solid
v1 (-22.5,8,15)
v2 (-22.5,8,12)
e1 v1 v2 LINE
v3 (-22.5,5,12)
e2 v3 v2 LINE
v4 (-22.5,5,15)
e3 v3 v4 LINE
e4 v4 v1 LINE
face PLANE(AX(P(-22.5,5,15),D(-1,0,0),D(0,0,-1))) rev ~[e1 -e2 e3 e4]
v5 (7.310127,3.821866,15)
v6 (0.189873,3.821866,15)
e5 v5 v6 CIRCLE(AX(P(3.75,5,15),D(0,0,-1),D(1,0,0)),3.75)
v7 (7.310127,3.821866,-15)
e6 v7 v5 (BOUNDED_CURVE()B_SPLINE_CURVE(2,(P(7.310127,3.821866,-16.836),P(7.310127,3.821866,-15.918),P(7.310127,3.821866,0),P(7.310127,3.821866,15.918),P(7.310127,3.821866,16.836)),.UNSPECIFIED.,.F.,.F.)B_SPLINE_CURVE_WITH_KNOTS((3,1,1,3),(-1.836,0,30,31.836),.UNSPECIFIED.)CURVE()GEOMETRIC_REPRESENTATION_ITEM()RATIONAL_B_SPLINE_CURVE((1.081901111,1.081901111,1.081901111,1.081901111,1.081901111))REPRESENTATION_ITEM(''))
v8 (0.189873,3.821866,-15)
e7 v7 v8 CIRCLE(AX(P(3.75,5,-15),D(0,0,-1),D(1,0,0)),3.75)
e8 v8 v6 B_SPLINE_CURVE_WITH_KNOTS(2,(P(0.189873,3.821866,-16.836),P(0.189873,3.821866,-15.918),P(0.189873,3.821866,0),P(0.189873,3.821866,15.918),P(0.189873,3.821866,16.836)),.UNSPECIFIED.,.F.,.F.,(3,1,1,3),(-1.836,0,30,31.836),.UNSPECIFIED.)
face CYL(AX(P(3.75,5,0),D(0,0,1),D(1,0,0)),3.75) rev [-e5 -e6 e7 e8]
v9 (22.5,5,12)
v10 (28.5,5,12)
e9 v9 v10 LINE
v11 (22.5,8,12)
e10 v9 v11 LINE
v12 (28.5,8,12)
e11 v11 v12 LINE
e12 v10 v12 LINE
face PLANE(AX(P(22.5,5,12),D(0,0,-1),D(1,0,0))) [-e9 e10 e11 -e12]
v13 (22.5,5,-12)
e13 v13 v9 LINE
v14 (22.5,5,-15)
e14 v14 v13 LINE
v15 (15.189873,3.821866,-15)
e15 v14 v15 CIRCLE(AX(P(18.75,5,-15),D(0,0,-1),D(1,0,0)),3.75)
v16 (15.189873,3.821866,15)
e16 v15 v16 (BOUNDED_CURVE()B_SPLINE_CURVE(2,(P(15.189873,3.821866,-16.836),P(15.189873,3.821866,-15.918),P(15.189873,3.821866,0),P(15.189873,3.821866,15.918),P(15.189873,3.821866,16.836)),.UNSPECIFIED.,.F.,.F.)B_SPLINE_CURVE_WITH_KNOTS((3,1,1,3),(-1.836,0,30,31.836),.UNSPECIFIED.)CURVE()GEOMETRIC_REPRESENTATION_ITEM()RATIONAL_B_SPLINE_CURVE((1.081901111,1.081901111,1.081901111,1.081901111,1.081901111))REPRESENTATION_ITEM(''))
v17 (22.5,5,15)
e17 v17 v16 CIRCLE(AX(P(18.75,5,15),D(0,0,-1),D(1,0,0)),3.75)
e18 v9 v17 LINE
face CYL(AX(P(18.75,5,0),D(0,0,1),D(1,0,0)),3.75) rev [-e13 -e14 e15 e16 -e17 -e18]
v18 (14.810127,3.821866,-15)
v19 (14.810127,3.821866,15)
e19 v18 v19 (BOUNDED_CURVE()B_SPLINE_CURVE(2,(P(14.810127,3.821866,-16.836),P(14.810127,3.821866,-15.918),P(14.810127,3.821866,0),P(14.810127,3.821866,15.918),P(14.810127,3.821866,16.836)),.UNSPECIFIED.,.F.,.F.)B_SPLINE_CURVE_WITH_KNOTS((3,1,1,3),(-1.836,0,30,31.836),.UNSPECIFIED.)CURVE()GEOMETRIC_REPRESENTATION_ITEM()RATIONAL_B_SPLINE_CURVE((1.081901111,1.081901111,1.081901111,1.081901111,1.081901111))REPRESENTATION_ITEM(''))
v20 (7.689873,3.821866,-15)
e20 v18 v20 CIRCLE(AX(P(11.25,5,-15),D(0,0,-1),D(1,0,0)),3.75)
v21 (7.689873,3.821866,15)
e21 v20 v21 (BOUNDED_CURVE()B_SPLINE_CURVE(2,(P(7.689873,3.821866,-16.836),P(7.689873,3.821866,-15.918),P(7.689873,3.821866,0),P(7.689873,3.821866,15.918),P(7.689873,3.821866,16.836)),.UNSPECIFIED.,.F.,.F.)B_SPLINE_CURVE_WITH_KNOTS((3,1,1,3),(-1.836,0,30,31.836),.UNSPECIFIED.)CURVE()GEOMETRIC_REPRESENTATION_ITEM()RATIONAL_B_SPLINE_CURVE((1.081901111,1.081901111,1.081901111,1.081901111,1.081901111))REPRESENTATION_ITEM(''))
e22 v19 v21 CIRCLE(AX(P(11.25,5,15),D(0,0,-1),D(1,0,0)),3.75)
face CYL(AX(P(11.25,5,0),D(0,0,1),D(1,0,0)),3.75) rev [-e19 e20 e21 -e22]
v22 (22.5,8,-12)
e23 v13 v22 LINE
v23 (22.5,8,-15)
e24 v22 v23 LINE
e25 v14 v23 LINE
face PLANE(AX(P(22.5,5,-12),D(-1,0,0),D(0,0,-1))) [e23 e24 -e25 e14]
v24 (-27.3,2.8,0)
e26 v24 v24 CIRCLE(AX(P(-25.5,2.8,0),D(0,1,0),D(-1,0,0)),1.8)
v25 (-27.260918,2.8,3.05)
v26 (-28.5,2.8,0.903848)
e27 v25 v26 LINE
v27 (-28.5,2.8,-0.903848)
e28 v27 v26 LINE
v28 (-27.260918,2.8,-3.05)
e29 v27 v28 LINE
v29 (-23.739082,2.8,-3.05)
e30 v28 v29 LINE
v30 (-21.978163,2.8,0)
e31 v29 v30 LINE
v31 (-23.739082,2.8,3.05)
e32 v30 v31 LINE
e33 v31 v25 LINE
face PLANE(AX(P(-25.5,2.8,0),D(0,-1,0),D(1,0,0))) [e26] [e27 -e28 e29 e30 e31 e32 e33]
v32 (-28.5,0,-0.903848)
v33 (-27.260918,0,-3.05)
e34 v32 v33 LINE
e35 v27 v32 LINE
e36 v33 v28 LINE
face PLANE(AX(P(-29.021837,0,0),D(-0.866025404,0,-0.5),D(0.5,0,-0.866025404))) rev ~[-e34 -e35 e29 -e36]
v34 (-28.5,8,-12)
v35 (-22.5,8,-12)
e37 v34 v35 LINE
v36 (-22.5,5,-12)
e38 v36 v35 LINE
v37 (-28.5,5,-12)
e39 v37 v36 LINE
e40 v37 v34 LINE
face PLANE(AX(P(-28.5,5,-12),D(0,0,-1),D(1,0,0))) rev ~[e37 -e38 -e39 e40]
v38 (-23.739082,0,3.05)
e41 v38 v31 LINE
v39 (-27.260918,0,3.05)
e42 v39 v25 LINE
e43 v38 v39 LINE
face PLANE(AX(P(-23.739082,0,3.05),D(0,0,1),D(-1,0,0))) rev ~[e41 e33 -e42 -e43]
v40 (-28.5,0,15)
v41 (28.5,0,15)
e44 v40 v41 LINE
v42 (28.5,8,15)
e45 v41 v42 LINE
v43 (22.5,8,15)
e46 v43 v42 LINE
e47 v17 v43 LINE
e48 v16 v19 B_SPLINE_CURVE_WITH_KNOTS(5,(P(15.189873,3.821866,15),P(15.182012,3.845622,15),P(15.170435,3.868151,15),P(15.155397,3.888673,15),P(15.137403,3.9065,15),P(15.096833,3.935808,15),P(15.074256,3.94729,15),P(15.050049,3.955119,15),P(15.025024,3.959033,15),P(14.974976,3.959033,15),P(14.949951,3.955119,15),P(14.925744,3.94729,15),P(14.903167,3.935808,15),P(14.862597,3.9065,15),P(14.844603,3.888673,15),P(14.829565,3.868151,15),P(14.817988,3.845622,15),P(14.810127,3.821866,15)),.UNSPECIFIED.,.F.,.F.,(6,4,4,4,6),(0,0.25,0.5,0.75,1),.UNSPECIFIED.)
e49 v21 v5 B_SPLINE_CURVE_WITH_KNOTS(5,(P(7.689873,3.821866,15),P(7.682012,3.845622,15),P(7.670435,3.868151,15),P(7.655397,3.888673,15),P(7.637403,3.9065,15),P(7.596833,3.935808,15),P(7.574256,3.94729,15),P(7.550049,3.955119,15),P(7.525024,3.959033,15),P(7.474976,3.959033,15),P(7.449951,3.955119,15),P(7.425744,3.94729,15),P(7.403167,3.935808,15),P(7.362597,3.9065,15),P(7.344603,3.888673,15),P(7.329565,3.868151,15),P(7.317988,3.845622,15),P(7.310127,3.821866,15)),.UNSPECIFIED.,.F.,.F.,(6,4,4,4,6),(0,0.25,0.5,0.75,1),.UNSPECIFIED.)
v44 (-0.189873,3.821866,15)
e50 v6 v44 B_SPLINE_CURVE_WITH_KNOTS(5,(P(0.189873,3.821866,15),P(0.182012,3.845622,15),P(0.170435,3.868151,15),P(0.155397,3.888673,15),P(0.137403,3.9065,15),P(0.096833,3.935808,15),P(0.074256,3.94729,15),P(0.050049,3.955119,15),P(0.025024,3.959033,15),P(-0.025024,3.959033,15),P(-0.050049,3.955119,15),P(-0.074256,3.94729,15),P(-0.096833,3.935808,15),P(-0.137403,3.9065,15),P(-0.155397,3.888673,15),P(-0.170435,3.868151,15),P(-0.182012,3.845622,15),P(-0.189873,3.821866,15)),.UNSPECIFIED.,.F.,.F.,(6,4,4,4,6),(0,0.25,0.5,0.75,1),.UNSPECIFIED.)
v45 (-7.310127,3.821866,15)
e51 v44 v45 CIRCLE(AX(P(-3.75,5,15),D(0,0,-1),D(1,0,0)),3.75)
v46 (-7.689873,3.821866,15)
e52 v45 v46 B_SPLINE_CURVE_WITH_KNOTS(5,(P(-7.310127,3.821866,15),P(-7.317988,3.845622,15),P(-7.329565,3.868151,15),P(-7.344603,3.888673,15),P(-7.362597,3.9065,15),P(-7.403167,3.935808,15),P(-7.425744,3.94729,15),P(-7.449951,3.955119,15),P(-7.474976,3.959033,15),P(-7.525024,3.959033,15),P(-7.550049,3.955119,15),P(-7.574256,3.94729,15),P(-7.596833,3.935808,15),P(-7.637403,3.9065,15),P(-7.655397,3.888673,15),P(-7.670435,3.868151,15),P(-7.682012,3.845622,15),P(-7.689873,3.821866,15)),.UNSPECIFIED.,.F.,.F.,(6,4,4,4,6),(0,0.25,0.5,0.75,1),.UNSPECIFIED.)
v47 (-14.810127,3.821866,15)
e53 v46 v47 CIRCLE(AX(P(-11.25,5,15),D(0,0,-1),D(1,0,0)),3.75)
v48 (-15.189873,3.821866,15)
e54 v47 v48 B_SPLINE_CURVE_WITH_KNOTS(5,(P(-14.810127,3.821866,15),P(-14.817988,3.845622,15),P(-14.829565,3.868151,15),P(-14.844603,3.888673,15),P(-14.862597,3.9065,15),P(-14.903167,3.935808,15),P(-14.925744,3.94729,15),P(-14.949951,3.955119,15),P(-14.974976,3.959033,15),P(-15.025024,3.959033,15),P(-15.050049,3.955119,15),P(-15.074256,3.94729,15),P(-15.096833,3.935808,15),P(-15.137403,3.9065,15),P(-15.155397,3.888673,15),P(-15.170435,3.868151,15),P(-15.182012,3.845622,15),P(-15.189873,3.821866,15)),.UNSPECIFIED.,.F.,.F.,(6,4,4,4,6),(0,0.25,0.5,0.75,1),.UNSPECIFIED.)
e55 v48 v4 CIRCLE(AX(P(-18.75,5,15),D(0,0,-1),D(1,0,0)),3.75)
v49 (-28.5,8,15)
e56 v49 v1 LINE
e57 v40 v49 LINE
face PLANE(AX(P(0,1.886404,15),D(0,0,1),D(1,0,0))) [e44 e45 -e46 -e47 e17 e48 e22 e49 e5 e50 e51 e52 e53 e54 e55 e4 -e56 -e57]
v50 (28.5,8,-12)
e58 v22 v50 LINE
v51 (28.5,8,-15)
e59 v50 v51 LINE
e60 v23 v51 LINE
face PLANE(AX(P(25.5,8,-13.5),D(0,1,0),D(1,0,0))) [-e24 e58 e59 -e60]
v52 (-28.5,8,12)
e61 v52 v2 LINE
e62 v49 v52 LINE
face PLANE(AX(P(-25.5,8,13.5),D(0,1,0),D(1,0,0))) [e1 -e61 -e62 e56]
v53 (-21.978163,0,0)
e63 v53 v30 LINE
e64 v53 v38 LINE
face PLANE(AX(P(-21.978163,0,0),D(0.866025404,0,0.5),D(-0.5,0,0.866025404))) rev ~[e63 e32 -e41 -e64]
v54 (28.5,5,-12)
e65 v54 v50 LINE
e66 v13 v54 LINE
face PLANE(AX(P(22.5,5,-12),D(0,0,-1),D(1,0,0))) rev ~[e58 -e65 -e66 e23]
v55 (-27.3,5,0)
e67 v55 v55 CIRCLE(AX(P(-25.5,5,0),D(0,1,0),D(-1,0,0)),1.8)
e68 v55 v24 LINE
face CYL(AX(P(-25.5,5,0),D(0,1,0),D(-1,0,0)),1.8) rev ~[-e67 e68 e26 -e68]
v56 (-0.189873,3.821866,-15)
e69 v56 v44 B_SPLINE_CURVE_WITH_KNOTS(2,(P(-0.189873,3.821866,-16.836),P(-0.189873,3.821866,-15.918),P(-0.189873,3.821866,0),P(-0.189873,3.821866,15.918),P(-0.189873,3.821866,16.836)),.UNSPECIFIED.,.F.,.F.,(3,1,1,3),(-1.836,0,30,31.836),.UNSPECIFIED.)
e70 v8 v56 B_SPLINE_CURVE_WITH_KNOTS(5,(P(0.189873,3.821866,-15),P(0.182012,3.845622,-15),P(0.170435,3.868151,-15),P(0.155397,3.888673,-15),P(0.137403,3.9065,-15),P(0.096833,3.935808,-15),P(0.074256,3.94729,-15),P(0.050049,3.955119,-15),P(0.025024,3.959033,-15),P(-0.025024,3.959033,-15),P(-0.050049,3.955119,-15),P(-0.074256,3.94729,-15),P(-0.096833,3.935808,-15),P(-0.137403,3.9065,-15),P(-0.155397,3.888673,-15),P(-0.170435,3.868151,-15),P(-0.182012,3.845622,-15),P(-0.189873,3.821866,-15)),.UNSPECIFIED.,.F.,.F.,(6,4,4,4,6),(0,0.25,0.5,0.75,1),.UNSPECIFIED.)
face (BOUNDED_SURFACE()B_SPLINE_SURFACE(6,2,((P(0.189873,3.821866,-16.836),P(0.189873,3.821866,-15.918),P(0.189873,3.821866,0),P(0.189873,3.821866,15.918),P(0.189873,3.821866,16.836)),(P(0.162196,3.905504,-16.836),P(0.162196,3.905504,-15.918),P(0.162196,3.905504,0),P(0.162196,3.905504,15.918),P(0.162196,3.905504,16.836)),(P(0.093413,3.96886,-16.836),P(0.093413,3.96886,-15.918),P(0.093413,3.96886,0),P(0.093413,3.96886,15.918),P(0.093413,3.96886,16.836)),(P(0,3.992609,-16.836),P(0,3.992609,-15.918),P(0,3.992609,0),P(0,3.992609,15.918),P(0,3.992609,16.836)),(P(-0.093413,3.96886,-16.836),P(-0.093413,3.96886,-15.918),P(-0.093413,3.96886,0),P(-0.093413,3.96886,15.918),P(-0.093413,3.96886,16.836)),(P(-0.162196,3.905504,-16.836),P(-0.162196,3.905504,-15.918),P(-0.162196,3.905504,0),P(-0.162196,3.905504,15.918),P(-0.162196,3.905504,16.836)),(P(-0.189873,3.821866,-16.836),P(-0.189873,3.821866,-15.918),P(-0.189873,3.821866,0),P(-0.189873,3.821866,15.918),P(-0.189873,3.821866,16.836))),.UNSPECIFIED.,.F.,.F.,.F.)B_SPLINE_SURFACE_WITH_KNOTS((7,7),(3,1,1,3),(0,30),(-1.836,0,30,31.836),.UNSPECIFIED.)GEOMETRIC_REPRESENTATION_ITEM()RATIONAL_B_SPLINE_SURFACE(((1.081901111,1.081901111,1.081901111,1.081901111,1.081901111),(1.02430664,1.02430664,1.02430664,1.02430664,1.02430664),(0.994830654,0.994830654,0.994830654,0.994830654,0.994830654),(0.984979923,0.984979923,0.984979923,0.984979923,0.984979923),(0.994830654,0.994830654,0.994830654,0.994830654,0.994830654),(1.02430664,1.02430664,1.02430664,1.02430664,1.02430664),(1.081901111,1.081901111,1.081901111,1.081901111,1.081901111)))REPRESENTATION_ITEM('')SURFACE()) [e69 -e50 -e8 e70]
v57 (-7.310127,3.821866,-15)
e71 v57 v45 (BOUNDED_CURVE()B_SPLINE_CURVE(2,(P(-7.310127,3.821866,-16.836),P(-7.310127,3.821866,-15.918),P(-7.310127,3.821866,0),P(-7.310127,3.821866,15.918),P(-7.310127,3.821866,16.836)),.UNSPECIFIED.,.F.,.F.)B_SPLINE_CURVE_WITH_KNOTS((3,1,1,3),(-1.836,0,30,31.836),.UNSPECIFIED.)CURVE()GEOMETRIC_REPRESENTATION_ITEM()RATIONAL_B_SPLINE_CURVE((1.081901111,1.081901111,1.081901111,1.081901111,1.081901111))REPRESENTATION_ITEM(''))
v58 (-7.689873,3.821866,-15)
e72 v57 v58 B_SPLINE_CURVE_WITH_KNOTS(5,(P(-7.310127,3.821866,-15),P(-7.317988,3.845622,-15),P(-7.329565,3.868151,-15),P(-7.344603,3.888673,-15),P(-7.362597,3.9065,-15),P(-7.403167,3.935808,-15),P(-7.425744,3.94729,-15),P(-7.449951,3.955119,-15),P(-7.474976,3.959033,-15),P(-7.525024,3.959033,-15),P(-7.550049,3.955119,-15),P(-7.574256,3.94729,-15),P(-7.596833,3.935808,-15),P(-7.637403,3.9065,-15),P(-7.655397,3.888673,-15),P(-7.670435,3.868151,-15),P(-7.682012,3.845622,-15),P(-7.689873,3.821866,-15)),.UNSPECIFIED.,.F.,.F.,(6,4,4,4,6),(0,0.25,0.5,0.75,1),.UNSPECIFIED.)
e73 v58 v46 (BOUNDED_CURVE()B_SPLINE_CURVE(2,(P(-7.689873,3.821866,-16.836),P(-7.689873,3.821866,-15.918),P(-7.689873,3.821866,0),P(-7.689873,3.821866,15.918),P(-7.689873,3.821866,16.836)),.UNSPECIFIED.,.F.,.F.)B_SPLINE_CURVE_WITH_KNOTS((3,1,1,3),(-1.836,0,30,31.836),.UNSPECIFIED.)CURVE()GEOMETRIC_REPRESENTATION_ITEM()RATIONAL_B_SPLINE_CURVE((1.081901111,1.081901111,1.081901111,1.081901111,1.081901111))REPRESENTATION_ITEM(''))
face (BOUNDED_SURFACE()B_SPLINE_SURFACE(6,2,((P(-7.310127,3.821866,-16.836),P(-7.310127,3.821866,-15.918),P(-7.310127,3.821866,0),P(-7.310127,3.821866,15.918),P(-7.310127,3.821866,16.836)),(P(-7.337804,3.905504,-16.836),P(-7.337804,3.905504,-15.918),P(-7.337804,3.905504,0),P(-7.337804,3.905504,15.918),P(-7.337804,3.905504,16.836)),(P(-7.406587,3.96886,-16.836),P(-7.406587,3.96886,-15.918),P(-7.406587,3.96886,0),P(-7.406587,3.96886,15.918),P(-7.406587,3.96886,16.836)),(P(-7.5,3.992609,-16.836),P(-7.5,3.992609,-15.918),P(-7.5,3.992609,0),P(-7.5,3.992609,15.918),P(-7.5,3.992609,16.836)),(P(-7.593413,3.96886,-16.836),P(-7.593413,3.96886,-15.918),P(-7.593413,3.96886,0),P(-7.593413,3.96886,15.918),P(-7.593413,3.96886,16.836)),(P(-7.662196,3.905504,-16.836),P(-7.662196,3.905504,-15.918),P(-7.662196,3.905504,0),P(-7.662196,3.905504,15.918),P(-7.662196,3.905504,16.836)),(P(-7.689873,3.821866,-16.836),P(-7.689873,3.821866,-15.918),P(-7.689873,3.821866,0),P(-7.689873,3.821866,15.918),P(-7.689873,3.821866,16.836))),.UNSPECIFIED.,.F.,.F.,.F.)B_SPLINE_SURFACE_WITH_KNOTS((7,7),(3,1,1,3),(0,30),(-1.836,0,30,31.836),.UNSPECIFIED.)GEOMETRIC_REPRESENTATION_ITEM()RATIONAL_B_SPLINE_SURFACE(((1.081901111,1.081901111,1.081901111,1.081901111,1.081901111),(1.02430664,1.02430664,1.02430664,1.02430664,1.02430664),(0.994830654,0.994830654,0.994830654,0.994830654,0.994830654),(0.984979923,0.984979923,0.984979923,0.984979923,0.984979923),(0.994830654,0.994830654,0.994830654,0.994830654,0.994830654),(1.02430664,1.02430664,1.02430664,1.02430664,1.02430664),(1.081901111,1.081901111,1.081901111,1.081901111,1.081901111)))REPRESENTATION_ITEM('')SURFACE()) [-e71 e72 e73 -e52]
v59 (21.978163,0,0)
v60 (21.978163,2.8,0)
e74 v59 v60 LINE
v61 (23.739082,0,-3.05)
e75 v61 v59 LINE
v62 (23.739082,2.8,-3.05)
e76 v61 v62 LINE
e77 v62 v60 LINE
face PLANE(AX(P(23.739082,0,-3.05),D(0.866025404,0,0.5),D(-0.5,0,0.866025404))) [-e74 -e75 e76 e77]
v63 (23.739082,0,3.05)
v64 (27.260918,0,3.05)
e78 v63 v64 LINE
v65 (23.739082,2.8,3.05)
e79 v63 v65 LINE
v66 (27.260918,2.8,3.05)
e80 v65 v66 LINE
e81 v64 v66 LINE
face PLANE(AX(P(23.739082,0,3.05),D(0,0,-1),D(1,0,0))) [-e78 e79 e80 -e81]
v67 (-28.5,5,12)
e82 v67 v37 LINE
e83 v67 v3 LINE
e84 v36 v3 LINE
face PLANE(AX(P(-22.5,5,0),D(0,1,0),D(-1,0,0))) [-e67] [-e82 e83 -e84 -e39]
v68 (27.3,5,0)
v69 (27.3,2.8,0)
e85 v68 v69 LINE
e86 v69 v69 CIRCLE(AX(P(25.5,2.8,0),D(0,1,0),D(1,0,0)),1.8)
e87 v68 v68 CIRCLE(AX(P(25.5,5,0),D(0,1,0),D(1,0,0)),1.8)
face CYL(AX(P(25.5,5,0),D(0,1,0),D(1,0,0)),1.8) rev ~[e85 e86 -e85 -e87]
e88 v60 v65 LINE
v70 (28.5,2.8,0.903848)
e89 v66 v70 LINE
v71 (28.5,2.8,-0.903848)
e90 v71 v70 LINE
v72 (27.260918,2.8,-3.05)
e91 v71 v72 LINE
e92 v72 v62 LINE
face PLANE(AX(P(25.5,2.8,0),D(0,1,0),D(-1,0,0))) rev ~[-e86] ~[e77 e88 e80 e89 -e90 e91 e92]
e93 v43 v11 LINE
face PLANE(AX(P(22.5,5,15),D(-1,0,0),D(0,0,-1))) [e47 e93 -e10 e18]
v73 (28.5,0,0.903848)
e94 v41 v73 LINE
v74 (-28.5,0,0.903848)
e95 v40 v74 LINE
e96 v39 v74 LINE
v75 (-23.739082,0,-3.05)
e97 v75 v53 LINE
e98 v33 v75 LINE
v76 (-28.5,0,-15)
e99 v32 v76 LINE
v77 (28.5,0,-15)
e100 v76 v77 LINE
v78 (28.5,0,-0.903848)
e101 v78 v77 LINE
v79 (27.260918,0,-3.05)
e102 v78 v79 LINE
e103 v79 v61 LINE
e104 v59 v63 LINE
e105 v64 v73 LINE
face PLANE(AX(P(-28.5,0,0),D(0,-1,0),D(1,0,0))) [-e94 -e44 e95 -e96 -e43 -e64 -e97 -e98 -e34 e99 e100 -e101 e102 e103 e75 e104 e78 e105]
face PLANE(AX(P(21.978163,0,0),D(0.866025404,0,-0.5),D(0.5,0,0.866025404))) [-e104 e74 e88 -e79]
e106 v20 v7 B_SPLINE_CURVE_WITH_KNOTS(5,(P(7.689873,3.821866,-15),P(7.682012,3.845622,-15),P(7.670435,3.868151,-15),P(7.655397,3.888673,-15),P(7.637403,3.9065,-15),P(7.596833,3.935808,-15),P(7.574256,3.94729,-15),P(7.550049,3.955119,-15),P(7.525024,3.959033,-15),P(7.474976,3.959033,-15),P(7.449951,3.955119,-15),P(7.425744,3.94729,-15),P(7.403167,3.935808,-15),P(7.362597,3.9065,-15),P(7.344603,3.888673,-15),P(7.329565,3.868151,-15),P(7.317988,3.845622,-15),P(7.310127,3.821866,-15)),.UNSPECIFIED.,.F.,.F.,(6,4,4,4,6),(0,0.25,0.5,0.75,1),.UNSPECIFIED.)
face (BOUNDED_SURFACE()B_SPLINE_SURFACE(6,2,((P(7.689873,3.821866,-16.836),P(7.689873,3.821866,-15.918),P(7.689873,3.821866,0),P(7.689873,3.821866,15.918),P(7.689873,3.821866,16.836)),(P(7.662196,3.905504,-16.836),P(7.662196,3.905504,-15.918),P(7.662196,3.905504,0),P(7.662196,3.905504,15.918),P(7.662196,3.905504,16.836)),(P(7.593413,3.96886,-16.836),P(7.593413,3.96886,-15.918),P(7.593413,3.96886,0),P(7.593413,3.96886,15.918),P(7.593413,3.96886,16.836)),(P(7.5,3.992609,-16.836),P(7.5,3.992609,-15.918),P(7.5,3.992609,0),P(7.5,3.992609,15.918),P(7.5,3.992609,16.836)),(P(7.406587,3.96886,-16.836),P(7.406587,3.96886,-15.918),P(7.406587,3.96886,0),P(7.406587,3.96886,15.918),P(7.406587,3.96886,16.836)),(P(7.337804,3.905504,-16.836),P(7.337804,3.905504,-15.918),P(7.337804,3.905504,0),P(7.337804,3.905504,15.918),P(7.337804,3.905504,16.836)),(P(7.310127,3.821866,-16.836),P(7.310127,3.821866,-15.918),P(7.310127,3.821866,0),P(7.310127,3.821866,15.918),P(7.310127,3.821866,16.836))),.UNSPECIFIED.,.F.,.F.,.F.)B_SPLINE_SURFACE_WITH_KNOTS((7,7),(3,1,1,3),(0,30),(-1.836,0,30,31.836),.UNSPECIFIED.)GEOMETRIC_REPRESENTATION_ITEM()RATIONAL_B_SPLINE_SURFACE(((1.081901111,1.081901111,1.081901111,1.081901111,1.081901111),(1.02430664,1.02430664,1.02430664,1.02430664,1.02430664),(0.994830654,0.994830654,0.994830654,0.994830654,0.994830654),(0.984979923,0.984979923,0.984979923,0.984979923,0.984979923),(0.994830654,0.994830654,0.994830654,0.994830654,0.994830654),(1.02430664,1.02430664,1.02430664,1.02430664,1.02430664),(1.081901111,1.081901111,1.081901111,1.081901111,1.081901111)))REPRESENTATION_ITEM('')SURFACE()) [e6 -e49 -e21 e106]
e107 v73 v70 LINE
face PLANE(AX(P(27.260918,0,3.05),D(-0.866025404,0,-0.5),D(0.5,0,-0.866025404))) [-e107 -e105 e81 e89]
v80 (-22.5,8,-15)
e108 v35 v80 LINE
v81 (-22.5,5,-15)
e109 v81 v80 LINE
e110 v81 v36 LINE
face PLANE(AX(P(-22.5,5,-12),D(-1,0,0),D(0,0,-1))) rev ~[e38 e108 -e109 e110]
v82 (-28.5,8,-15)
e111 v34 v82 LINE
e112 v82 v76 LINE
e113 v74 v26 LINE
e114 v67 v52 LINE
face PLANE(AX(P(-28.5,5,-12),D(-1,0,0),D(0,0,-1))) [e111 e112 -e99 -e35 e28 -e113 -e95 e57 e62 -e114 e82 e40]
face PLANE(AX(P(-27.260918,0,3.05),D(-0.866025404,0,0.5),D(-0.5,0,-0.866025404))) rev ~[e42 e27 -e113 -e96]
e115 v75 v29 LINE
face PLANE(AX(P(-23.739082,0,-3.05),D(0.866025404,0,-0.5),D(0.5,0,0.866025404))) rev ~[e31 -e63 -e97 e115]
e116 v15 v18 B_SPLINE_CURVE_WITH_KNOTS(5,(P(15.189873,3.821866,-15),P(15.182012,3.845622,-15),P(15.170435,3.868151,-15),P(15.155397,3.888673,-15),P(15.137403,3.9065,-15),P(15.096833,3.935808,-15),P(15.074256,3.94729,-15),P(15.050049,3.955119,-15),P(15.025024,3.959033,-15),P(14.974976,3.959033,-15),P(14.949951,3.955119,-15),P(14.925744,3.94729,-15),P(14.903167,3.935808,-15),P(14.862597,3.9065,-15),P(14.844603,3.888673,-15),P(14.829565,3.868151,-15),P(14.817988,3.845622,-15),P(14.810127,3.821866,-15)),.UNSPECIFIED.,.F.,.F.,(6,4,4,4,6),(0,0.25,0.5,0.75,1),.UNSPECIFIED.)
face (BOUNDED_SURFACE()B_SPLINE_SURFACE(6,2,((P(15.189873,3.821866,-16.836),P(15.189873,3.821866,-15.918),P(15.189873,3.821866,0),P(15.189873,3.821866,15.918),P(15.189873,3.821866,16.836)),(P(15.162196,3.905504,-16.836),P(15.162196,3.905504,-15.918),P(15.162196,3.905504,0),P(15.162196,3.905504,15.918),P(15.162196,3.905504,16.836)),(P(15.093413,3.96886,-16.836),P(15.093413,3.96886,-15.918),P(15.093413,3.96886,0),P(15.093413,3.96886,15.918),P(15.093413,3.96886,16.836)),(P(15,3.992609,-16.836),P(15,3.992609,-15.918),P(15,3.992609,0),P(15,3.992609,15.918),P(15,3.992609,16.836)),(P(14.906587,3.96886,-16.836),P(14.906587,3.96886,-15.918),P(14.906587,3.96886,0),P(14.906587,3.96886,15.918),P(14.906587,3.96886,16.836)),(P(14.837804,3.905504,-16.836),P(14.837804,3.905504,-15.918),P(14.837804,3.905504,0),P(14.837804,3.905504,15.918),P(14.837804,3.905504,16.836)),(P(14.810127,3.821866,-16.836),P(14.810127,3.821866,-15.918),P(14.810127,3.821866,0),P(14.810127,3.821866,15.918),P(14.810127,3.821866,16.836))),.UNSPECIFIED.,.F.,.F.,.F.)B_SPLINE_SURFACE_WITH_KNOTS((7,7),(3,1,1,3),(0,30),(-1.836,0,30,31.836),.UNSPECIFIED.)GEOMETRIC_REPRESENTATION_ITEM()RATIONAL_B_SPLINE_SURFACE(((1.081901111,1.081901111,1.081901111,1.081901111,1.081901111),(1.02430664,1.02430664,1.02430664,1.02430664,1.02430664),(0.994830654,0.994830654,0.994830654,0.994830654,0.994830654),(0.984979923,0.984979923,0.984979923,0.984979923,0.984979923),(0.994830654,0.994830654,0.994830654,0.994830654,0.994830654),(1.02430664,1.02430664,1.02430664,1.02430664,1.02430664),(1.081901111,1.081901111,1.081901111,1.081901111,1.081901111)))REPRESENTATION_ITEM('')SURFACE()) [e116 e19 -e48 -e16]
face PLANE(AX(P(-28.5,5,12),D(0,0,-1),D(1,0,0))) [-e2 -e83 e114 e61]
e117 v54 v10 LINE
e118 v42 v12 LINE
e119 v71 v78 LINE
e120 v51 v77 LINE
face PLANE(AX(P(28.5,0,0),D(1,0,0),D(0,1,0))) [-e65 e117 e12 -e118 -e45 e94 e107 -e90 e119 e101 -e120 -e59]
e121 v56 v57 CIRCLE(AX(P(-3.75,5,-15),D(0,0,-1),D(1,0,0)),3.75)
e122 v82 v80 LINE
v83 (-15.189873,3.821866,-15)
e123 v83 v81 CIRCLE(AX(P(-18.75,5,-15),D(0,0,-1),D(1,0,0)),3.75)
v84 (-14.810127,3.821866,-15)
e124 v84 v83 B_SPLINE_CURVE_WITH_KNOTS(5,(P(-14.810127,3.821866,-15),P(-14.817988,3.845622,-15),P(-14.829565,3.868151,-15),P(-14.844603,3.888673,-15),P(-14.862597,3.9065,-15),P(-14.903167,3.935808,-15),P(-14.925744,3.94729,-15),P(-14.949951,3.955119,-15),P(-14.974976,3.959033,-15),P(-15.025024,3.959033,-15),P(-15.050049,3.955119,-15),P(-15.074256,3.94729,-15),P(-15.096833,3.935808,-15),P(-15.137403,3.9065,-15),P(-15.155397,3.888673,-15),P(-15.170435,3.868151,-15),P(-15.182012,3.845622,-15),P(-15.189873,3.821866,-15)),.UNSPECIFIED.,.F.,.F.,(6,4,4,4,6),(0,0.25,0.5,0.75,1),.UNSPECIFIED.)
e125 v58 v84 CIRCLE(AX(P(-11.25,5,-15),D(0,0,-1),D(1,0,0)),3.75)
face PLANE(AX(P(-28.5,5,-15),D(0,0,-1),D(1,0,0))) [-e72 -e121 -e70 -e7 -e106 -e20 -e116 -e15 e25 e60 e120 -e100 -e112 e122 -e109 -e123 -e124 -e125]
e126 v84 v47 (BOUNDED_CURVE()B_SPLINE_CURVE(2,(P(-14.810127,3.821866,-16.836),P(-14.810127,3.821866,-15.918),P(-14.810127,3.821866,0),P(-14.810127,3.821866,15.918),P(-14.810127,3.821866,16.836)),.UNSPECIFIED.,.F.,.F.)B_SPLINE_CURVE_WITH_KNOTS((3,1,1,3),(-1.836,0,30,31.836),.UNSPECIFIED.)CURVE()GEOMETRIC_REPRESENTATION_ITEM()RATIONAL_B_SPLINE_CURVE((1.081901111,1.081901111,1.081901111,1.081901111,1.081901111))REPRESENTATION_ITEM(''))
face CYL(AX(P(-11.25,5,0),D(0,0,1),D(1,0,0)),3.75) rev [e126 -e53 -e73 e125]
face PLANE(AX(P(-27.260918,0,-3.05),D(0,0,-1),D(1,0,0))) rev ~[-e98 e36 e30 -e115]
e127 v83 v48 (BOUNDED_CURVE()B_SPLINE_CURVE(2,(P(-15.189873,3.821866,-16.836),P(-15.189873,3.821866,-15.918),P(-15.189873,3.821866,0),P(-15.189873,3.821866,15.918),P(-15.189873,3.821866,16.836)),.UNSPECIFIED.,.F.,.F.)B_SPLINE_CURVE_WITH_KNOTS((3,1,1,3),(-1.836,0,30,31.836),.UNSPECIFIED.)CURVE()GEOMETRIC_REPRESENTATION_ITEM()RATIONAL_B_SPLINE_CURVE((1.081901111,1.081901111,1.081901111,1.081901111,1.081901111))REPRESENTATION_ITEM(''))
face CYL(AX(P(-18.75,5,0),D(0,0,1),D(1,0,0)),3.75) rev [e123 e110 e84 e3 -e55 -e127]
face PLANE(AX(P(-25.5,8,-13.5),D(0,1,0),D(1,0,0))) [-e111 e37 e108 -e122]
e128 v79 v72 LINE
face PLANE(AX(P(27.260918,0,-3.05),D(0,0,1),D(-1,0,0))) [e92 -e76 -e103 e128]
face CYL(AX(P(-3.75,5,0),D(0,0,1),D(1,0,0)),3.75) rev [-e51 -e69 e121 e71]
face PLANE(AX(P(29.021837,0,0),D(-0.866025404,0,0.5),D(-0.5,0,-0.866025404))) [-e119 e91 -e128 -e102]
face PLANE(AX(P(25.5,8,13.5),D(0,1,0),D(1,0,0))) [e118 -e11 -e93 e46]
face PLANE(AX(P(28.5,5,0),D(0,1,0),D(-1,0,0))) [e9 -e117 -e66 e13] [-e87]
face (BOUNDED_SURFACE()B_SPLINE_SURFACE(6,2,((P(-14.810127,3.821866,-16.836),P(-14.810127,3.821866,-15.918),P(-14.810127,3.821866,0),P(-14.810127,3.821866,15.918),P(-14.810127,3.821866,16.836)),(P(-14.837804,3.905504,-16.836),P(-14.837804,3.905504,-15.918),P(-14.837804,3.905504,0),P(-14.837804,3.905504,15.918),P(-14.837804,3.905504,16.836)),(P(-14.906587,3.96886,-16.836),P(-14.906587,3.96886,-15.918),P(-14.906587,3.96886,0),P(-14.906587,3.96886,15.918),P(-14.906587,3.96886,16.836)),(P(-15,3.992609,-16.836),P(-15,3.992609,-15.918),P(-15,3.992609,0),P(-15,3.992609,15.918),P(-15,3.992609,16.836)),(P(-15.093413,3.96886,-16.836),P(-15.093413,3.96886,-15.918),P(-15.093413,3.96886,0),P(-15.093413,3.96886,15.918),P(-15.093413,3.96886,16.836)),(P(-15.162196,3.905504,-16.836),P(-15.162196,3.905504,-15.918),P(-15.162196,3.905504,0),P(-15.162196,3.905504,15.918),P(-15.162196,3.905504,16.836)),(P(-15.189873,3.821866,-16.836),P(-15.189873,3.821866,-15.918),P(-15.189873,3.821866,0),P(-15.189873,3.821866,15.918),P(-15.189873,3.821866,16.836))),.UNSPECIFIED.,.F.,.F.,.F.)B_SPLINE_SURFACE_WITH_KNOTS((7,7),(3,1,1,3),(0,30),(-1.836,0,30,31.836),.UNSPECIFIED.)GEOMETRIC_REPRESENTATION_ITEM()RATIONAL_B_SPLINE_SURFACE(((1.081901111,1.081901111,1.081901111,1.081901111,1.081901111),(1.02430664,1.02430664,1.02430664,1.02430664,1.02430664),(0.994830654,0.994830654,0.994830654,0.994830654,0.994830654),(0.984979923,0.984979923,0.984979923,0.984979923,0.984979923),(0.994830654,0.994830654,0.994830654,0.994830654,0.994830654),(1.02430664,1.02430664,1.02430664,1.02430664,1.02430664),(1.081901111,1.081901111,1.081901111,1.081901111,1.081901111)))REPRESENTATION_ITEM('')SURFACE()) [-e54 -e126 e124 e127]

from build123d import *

# Parameters (mm, degrees)
RESSALTO_EXTRUS_O1_DEPTH = 15
ESBO_O2_R                = 1.8
CORTE_EXTRUS_O1_DEPTH    = 33.592176975
FILETE1_R                = 0.2
ESBO_O3_W                = 6
ESBO_O3_H                = 3
RESSALTO_EXTRUS_O2_DEPTH = 3
CORTE_EXTRUS_O2_DEPTH    = 2.8


with BuildPart() as part:
    # Esboço1 → Ressalto-extrusão1 (new, symmetric)
    with BuildSketch(Plane.XY):
        with BuildLine():
            Line((-22.5, 0), (22.5, 0))
            Line((22.5, 0), (28.5, 0))
            Line((28.5, 0), (28.5, 5))
            Line((28.5, 5), (22.5, 5))
            ThreePointArc((22.5, 5), (18.75, 1.25), (15, 5))
            ThreePointArc((15, 5), (11.25, 1.25), (7.5, 5))
            ThreePointArc((7.5, 5), (3.75, 1.25), (0, 5))
            ThreePointArc((0, 5), (-3.75, 1.25), (-7.5, 5))
            ThreePointArc((-7.5, 5), (-11.25, 1.25), (-15, 5))
            ThreePointArc((-15, 5), (-18.75, 1.25), (-22.5, 5))
            Line((-22.5, 5), (-28.5, 5))
            Line((-28.5, 5), (-28.5, 0))
            Line((-28.5, 0), (-22.5, 0))
        make_face()
    extrude(amount=RESSALTO_EXTRUS_O1_DEPTH, both=True)

    # Esboço2 → Corte-extrusão1 (cut, through all)
    with BuildSketch(Plane(origin=(0, 5, 0), x_dir=(1, 0, 0), z_dir=(0, 1, 0))):
        with Locations(Location((-25.5, 0, 0), (0, 0, 180))):
            Circle(ESBO_O2_R)
        with Locations((25.5, 0)):
            Circle(ESBO_O2_R)
    extrude(amount=-CORTE_EXTRUS_O1_DEPTH, mode=Mode.SUBTRACT)

    # Filete1
    filete1_edges = [part.edges().sort_by_distance(p)[0] for p in [
        (-15, 5, 0),
        (-7.5, 5, 0),
        (0, 5, 0),
        (7.5, 5, 0),
        (15, 5, 0),
    ]]
    fillet(filete1_edges, radius=FILETE1_R)

    # Esboço3 → Ressalto-extrusão2 (add)
    with BuildSketch(Plane(origin=(0, 5, 0), x_dir=(1, 0, 0), z_dir=(0, 1, 0))):
        with Locations((-25.5, 13.5)):
            Rectangle(ESBO_O3_W, ESBO_O3_H)
        with Locations((-25.5, -13.5)):
            Rectangle(ESBO_O3_W, ESBO_O3_H)
        with Locations((25.5, -13.5)):
            Rectangle(ESBO_O3_W, ESBO_O3_H)
        with Locations((25.5, 13.5)):
            Rectangle(ESBO_O3_W, ESBO_O3_H)
    extrude(amount=RESSALTO_EXTRUS_O2_DEPTH)

    # Esboço4 → Corte-extrusão2 (cut)
    with BuildSketch(Plane.XZ):
        Polygon((-29.021836642, 0), (-27.260918321, -3.05), (-23.739081679, -3.05), (-21.978163358, 0), (-23.739081679, 3.05), (-27.260918321, 3.05), align=None)
        Polygon((27.260918321, 3.05), (29.021836642, 0), (27.260918321, -3.05), (23.739081679, -3.05), (21.978163358, 0), (23.739081679, 3.05), align=None)
    extrude(amount=-CORTE_EXTRUS_O2_DEPTH, mode=Mode.SUBTRACT)


solid = part.part
